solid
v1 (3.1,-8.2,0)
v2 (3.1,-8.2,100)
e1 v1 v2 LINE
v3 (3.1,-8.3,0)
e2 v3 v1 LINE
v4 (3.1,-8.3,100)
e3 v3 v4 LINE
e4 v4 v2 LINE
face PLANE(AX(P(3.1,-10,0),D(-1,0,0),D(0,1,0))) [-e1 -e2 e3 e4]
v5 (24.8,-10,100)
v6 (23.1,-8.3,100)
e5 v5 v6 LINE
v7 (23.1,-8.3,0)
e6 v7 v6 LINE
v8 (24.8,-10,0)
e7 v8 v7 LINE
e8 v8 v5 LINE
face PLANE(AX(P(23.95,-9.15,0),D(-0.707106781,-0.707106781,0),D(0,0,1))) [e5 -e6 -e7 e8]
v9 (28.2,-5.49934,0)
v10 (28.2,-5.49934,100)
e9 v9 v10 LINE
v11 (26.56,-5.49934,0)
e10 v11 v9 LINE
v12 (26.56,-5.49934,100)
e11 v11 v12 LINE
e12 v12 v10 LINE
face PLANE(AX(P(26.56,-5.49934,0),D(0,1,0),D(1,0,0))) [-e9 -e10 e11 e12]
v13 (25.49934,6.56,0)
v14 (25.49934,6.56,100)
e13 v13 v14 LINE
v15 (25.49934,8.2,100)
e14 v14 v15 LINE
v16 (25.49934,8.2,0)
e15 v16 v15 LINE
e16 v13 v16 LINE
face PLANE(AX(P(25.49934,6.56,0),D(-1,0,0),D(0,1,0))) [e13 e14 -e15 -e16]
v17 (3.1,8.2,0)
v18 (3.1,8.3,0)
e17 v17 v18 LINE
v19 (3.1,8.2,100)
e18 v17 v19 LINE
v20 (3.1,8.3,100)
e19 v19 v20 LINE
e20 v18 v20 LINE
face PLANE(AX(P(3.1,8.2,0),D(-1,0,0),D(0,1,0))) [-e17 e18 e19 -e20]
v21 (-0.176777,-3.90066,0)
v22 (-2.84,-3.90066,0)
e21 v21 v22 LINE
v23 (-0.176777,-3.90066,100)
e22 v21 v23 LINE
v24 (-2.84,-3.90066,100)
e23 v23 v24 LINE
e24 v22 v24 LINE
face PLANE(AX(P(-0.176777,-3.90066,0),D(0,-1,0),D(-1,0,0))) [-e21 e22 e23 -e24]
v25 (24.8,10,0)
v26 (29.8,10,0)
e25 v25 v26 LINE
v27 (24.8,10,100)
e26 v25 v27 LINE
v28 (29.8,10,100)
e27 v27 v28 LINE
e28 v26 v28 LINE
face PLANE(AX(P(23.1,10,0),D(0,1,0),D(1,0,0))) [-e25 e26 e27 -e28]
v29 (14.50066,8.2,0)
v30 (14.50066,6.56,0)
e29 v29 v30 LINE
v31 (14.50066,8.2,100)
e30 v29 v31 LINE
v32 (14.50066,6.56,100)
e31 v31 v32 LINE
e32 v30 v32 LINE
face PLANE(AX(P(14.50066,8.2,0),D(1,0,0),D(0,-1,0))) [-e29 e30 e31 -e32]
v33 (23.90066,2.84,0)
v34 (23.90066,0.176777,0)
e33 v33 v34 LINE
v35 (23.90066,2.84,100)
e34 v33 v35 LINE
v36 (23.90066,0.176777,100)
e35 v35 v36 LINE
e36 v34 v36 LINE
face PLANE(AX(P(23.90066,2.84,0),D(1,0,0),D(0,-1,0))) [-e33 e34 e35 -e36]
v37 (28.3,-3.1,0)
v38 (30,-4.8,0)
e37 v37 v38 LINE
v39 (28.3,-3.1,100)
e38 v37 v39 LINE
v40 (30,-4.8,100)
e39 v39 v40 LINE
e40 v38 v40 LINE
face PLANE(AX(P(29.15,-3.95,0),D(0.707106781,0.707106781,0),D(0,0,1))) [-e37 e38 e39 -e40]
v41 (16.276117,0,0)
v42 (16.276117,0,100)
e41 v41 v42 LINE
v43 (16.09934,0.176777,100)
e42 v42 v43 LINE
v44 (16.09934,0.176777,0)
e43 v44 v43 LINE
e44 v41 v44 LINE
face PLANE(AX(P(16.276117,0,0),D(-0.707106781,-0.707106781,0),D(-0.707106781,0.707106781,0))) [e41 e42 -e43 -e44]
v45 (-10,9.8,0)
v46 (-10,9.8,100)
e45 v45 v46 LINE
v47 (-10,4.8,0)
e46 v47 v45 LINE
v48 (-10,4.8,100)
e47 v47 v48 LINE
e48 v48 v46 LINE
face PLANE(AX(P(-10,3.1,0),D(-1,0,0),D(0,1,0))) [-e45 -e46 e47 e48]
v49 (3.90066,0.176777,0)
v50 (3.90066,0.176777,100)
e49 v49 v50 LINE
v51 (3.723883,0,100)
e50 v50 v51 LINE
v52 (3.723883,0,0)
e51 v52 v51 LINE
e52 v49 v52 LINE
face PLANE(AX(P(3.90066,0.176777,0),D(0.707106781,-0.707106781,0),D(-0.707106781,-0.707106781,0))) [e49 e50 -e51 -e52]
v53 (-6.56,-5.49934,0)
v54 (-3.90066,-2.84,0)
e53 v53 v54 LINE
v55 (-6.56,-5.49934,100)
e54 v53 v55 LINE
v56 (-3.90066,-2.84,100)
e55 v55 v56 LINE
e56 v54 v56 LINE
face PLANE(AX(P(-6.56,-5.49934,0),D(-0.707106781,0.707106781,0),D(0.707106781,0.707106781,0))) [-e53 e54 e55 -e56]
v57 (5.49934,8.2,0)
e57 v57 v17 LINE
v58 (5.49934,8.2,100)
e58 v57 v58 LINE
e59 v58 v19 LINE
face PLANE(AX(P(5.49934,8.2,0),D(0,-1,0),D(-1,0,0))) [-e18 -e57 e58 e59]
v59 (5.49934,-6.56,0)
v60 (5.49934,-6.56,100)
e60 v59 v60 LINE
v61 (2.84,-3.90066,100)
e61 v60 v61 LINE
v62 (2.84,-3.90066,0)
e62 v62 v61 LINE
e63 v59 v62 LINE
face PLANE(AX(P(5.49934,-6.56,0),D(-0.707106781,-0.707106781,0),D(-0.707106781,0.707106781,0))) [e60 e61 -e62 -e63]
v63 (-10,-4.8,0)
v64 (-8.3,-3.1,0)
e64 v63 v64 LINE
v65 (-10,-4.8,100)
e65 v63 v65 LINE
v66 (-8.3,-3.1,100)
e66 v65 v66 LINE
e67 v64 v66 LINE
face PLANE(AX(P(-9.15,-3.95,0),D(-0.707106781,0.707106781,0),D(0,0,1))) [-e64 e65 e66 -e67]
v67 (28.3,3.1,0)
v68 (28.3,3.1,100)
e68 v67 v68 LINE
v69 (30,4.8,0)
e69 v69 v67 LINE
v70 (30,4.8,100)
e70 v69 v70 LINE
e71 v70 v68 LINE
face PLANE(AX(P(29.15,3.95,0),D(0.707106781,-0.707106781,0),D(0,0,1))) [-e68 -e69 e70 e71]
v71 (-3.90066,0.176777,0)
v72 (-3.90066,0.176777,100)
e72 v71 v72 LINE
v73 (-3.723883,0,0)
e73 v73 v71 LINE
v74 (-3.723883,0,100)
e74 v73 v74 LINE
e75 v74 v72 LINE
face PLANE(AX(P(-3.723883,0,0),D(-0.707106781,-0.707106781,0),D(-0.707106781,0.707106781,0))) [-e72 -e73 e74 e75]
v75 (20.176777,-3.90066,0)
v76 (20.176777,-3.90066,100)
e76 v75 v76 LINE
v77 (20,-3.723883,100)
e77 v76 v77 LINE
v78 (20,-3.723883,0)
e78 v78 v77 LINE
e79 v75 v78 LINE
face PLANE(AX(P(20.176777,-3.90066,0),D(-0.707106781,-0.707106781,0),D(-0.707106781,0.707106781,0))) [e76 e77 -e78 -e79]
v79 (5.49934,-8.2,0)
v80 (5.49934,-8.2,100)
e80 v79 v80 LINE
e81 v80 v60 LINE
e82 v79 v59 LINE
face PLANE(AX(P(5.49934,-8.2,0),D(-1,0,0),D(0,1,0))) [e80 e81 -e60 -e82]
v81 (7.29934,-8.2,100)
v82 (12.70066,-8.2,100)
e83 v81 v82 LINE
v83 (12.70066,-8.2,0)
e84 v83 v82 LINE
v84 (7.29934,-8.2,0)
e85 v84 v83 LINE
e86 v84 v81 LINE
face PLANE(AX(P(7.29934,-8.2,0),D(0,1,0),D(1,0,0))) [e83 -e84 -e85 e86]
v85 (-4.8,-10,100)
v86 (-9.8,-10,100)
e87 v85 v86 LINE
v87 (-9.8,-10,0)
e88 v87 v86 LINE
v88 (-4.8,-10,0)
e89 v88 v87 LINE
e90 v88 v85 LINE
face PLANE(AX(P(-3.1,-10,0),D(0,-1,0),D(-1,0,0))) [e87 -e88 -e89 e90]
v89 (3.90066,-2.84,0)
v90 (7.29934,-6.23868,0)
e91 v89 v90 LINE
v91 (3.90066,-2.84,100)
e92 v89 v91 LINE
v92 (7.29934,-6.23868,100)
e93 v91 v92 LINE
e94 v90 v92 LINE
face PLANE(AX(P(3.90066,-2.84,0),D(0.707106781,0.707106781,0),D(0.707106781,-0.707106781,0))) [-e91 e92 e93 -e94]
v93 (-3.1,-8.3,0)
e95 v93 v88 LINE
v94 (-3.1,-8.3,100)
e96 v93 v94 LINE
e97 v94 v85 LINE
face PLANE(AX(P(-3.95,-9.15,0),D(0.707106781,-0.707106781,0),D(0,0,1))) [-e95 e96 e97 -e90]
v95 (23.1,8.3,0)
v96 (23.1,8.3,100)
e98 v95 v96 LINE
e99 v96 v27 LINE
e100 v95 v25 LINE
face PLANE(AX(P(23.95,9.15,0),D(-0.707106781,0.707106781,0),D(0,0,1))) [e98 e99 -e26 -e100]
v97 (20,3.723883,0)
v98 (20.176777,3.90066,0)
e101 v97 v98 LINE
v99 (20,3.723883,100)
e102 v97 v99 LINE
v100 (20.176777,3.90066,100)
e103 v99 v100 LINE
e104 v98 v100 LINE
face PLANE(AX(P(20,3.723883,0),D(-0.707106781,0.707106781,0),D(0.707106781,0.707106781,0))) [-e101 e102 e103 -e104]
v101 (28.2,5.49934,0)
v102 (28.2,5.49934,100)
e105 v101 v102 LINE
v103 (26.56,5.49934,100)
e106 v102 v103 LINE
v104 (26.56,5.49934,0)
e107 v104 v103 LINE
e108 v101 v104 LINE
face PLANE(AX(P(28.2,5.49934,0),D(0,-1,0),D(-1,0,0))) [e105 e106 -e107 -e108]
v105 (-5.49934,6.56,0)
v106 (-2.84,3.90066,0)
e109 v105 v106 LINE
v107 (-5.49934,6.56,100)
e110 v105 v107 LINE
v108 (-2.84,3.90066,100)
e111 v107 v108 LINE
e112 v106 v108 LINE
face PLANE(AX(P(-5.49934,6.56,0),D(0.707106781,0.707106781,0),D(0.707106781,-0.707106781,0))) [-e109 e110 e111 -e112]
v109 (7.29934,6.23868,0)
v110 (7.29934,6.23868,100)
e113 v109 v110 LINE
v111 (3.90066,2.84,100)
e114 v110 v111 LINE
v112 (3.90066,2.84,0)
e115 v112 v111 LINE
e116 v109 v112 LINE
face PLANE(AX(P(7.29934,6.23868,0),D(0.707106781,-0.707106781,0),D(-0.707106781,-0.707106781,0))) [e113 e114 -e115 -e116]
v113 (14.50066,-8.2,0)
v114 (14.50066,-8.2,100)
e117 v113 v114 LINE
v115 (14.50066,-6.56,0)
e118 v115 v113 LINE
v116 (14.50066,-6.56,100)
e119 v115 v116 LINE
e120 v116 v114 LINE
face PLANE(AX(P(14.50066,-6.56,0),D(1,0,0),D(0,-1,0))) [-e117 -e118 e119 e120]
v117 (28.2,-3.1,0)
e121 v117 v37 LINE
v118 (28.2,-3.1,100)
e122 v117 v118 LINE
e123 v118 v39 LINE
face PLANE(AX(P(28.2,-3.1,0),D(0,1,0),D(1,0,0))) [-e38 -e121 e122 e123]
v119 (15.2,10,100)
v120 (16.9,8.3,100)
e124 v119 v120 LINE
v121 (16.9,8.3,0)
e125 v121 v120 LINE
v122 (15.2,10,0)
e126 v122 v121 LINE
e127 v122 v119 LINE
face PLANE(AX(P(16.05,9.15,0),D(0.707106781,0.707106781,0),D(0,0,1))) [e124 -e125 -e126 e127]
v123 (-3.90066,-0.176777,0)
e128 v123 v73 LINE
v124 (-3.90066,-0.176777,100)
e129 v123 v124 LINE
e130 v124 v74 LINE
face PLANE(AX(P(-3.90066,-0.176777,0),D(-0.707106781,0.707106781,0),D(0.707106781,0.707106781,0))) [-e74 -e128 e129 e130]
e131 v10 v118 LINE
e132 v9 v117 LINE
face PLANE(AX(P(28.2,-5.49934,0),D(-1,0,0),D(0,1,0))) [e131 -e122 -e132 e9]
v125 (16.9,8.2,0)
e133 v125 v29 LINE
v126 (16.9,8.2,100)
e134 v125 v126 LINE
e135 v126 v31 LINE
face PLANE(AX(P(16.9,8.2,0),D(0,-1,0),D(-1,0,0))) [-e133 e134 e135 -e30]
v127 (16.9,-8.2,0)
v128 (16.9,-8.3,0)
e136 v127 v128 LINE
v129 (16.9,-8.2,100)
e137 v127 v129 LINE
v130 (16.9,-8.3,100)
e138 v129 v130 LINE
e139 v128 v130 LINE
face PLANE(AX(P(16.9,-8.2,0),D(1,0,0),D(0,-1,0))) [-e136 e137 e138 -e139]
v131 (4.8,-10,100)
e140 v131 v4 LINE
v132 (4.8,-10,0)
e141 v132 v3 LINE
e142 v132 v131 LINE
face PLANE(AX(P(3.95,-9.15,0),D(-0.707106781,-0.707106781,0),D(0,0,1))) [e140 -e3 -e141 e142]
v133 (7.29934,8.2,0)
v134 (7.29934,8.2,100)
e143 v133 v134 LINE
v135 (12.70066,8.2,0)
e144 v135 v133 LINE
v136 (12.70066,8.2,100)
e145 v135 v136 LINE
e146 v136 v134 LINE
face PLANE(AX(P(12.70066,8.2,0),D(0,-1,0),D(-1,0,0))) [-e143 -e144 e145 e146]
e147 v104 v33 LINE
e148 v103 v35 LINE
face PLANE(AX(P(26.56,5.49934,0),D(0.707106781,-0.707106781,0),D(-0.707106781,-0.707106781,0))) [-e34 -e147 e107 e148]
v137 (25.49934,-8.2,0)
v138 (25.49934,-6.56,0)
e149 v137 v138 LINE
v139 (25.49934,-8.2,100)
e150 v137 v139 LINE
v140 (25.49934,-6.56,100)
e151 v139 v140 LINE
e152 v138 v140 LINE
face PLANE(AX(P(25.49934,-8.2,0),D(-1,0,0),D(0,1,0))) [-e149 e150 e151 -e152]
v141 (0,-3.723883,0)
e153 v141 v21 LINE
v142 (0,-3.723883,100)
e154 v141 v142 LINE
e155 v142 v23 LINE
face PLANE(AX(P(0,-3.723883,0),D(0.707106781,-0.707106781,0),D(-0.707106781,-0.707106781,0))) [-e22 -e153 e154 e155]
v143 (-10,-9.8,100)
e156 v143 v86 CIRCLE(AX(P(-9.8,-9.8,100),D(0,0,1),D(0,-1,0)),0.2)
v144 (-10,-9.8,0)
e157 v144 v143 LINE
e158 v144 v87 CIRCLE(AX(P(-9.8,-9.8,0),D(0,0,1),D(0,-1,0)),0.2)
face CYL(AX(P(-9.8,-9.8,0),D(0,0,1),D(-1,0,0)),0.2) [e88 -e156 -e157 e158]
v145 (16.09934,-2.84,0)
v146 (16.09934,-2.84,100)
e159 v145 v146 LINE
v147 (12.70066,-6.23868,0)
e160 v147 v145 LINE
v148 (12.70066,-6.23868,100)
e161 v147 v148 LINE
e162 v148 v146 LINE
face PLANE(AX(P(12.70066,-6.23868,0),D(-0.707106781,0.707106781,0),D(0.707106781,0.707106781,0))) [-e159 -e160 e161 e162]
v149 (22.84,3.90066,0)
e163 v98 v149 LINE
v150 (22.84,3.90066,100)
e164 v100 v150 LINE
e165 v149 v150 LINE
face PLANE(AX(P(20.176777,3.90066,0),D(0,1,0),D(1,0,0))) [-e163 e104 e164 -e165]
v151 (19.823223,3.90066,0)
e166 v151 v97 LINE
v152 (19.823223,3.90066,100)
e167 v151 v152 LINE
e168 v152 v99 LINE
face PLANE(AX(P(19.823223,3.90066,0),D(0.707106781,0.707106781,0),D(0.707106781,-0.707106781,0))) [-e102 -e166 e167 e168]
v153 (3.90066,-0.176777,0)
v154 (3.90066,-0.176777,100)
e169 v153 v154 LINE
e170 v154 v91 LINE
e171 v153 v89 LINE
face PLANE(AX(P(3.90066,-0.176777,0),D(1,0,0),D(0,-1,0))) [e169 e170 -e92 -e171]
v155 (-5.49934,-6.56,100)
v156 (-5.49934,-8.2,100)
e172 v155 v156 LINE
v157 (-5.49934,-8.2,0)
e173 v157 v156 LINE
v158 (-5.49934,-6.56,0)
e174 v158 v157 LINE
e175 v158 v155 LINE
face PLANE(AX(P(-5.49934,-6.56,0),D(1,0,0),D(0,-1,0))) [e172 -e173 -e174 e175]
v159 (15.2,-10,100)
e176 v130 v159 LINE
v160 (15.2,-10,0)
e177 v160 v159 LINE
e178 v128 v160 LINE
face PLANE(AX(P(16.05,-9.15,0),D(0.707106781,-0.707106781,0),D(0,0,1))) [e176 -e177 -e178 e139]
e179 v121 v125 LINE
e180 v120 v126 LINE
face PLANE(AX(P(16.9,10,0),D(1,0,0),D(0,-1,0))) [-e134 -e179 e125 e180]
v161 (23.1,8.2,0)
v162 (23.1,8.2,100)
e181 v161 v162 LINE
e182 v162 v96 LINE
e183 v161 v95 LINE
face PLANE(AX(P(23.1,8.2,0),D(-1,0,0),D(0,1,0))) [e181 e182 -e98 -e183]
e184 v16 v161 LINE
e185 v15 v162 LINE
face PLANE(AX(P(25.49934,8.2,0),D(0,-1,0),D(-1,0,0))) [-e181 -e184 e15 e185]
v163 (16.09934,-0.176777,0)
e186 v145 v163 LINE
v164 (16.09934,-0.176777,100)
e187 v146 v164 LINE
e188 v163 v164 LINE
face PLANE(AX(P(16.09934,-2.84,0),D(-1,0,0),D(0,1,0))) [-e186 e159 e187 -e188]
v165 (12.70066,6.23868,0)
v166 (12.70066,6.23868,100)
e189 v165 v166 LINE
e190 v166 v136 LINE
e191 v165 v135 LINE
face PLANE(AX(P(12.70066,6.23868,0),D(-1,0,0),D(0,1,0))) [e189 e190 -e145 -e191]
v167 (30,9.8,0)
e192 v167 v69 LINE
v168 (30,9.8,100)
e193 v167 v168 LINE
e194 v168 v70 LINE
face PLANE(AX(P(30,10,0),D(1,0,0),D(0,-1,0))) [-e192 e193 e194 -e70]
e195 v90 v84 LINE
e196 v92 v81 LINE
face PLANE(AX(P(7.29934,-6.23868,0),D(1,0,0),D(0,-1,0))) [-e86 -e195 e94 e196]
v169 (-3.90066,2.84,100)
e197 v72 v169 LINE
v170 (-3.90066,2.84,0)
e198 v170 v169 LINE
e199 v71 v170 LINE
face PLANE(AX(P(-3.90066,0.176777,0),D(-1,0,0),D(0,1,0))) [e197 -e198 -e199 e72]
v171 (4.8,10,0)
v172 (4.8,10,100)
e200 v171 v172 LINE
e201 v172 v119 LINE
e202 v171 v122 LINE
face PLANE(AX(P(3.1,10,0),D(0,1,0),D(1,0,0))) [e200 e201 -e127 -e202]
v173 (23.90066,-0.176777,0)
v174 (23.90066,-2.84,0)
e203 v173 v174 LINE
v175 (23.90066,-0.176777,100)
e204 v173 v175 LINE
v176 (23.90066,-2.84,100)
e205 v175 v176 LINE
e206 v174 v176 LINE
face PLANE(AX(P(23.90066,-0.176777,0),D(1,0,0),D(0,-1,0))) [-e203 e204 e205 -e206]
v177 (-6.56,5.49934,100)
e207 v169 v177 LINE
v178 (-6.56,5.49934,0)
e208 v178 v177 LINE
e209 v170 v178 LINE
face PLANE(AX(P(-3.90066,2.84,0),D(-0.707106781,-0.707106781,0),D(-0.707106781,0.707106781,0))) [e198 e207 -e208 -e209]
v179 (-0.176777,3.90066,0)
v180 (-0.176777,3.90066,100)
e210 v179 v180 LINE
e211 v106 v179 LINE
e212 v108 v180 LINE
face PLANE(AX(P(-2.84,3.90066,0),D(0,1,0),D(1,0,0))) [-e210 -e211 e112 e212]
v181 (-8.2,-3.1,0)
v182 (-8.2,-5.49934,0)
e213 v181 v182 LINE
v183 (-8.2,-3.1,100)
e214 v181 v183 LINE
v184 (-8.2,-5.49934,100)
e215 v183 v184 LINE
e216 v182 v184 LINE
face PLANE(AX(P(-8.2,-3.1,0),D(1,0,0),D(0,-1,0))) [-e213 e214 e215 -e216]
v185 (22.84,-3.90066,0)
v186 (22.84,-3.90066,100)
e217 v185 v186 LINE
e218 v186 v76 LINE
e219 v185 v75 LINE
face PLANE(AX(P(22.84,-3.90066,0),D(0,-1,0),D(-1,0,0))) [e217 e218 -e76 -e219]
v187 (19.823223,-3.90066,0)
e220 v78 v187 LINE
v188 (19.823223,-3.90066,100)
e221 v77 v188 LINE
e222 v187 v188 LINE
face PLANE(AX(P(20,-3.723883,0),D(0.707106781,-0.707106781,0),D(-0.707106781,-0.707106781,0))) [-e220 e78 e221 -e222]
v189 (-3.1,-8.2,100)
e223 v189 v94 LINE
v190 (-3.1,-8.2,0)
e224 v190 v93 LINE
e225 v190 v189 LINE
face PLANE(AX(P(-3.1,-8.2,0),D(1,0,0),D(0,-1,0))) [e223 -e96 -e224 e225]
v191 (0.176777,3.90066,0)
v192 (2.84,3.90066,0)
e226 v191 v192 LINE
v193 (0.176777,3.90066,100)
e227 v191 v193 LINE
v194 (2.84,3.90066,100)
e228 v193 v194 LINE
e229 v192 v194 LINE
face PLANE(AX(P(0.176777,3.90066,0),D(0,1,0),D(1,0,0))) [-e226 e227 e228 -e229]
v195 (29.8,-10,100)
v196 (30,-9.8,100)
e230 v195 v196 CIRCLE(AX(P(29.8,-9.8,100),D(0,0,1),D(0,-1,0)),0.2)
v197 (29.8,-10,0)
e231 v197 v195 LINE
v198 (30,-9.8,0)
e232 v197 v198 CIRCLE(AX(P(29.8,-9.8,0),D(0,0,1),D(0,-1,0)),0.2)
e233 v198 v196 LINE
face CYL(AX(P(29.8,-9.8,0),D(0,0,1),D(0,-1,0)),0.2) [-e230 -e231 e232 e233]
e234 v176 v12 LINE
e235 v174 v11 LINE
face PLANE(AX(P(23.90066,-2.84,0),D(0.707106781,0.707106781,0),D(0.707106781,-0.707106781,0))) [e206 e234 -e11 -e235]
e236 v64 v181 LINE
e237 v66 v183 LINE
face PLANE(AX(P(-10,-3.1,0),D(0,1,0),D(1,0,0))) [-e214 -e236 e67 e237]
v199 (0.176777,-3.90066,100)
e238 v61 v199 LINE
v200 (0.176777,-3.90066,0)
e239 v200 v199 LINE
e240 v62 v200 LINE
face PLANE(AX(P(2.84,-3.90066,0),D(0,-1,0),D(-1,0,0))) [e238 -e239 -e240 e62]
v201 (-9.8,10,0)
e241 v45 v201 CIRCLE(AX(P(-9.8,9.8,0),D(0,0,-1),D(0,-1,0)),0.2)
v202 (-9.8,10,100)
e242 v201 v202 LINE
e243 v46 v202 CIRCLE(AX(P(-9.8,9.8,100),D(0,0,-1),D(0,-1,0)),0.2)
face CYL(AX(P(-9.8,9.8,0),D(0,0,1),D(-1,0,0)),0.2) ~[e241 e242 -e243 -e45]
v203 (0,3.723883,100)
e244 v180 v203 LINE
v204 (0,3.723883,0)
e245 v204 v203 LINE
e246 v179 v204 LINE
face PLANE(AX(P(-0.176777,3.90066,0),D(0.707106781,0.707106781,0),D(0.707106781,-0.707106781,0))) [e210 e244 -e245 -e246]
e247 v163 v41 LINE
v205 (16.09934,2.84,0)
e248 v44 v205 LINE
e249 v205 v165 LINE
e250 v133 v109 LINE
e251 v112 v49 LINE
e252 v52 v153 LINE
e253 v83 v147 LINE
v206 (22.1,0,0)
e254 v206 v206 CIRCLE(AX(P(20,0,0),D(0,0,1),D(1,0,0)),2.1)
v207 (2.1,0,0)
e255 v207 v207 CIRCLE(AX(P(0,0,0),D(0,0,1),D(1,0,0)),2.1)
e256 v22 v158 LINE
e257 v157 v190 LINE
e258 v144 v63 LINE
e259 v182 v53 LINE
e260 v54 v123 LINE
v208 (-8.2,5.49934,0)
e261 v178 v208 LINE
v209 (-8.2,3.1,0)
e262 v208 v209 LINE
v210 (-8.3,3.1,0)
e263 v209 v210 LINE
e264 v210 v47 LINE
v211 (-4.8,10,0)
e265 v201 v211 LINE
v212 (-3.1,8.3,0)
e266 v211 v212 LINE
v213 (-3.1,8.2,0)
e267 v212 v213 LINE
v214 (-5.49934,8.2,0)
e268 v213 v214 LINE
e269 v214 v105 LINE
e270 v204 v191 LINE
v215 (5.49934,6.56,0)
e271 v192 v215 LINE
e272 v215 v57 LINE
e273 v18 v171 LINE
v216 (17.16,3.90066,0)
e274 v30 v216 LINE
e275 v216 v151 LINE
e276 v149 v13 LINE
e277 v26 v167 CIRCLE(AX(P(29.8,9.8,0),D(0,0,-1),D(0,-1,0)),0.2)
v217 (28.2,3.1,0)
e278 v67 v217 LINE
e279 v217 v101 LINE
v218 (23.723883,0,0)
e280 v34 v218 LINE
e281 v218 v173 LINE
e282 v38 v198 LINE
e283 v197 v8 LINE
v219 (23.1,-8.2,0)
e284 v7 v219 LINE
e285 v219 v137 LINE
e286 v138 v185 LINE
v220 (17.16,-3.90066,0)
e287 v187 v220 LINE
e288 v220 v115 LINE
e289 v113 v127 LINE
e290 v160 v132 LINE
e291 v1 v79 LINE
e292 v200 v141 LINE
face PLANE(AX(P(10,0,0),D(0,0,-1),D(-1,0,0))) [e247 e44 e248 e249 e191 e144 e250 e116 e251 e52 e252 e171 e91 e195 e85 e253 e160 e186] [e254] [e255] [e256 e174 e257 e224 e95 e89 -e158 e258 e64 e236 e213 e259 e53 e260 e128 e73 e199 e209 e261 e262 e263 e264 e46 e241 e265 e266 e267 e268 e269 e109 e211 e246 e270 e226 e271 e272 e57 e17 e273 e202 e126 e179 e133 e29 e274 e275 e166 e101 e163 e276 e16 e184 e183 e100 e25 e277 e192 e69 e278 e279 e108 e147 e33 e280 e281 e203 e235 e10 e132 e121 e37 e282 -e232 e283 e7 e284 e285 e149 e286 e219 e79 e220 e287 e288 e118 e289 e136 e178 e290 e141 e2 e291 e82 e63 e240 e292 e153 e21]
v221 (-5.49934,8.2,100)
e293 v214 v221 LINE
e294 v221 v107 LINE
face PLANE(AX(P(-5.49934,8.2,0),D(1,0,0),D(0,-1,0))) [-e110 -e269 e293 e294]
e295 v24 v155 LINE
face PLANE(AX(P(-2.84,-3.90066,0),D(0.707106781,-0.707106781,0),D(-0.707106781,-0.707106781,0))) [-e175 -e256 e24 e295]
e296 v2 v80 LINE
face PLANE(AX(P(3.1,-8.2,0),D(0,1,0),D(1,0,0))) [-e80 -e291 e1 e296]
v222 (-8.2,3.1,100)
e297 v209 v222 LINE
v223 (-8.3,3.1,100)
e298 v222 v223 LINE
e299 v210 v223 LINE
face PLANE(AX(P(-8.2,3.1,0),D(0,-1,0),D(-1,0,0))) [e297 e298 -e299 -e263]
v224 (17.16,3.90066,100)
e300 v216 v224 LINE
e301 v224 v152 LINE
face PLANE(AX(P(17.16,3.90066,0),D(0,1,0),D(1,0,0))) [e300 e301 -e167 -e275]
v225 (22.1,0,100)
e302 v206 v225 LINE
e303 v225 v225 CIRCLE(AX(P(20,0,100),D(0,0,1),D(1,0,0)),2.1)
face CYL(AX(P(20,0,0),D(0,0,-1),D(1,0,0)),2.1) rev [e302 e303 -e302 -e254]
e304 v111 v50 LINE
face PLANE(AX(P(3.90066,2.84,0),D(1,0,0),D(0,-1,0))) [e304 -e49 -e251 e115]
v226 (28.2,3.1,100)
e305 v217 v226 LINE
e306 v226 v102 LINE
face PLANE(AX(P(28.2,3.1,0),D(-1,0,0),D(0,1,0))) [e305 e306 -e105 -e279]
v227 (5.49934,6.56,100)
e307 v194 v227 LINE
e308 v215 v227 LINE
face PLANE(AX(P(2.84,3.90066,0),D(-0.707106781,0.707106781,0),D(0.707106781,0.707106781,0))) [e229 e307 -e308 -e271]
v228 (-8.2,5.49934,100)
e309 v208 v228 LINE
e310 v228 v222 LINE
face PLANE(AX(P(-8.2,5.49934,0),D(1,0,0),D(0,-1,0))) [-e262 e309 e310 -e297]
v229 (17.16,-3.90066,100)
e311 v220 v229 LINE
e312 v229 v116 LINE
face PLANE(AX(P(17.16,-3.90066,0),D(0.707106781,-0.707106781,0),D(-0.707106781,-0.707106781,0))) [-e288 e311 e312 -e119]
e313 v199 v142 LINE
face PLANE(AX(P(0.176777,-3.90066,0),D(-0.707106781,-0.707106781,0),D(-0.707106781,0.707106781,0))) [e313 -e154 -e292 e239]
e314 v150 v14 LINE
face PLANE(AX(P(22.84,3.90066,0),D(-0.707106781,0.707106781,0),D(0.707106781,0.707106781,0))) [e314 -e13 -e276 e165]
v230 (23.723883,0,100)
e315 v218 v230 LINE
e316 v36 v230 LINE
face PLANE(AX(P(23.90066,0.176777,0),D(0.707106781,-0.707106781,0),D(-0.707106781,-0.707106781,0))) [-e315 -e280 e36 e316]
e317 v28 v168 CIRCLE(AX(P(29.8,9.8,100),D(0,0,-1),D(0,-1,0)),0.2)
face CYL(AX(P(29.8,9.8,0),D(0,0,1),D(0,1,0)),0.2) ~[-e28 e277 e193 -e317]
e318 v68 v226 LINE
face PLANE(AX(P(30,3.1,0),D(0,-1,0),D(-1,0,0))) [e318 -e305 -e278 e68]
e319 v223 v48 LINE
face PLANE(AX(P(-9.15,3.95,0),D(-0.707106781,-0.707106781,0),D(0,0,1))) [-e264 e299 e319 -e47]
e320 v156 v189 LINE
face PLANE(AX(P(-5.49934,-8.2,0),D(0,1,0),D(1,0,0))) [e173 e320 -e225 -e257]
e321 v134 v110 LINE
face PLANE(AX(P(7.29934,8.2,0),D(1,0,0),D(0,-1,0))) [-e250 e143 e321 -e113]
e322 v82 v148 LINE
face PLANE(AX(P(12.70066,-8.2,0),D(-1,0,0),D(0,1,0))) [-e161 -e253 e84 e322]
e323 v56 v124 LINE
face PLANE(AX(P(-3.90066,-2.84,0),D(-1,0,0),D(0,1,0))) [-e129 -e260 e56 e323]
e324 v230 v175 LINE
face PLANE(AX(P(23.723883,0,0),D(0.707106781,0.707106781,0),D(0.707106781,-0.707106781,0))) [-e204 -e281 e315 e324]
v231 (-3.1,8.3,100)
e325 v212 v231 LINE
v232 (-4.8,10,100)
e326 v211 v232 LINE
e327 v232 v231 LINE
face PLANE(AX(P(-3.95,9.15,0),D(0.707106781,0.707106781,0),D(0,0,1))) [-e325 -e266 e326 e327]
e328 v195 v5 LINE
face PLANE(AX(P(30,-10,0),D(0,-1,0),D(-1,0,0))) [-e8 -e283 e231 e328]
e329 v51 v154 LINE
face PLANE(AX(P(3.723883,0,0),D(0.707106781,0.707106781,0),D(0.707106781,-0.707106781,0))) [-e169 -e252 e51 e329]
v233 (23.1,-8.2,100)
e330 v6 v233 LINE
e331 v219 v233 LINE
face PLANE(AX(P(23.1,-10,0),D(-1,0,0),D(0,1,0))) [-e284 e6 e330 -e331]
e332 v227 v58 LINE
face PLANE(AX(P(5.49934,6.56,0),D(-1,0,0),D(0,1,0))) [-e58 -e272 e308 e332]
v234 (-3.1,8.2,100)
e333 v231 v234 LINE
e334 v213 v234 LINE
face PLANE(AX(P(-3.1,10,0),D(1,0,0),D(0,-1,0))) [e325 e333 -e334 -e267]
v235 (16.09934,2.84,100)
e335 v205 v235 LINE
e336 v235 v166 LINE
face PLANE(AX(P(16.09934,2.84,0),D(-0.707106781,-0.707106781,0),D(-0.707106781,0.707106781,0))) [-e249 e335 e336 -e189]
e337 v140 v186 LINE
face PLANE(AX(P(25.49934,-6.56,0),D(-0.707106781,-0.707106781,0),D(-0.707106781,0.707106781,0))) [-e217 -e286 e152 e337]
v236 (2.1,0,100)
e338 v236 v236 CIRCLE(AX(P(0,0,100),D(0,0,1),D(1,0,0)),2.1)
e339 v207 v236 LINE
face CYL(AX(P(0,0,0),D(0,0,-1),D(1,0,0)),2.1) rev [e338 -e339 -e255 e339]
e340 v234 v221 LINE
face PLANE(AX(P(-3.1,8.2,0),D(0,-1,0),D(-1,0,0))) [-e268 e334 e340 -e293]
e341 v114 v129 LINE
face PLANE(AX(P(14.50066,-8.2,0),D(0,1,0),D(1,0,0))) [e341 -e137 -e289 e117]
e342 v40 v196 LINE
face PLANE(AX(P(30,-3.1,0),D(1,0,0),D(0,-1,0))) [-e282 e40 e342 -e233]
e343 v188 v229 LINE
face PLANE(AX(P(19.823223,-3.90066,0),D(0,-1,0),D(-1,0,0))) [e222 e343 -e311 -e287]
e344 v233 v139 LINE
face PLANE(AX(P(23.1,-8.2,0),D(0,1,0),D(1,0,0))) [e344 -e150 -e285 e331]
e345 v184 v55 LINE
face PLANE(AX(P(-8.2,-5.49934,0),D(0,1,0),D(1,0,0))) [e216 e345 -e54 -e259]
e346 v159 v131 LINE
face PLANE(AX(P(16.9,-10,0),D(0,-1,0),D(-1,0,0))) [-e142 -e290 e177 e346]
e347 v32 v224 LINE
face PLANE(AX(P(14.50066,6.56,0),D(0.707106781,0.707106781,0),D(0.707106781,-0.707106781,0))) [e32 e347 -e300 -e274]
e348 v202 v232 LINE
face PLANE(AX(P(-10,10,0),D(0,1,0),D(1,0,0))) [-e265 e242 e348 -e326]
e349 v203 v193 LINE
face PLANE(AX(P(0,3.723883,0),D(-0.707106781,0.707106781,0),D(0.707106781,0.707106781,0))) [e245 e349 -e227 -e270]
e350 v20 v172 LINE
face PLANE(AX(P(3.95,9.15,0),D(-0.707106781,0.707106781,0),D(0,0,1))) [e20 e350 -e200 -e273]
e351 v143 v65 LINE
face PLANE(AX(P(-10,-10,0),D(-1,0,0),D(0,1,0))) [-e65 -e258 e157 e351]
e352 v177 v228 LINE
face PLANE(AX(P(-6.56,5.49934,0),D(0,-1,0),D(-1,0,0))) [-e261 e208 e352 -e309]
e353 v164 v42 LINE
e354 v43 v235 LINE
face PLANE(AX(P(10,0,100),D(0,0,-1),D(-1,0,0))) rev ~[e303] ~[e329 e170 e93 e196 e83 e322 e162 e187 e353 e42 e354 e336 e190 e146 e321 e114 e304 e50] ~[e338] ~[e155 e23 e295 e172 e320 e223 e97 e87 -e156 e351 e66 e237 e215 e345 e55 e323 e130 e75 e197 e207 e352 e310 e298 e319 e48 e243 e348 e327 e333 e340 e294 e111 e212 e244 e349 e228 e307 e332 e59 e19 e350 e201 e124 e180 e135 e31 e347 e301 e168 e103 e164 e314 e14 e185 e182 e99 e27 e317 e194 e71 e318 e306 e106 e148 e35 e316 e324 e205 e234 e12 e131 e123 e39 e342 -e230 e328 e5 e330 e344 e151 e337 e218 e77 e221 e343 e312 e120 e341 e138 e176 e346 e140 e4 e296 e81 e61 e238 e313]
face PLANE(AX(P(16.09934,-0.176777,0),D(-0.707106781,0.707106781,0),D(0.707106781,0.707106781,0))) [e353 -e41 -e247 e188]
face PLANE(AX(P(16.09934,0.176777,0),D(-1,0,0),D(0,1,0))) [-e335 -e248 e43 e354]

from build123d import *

# Parameters (mm, degrees)
SKETCH_R         = 2.1
PAD_DEPTH        = 100
CHAMFER_1_ANGLE  = 45
CHAMFER_1_SIZE   = 1.7
CHAMFER_2_ANGLE  = 45
CHAMFER_2_SIZE   = 1.7
CHAMFER_3_ANGLE  = 45
CHAMFER_3_SIZE   = 1.7
CHAMFER_4_ANGLE  = 45
CHAMFER_4_SIZE   = 1.7
CHAMFER_5_ANGLE  = 45
CHAMFER_5_SIZE   = 1.7
CHAMFER_6_ANGLE  = 45
CHAMFER_6_SIZE   = 1.7
CHAMFER_7_ANGLE  = 45
CHAMFER_7_SIZE   = 1.7
CHAMFER_8_ANGLE  = 45
CHAMFER_8_SIZE   = 1.7
CHAMFER_9_ANGLE  = 45
CHAMFER_9_SIZE   = 1.7
CHAMFER_10_ANGLE = 45
CHAMFER_10_SIZE  = 1.7
CHAMFER_11_ANGLE = 45
CHAMFER_11_SIZE  = 1.7
CHAMFER_12_ANGLE = 45
CHAMFER_12_SIZE  = 1.7
FILLET_R         = 0.2


with BuildPart() as part:
    # Sketch → Pad (new body)
    with BuildSketch(Plane.XY):
        Polygon((0, 3.723883), (0.176777, 3.90066), (2.84, 3.90066), (5.49934, 6.56), (5.49934, 8.2), (3.1, 8.2), (3.1, 10), (16.9, 10), (16.9, 8.2), (14.50066, 8.2), (14.50066, 6.56), (17.16, 3.90066), (19.823223, 3.90066), (20, 3.723883), (20.176777, 3.90066), (22.84, 3.90066), (25.49934, 6.56), (25.49934, 8.2), (23.1, 8.2), (23.1, 10), (30, 10), (30, 3.1), (28.2, 3.1), (28.2, 5.49934), (26.56, 5.49934), (23.90066, 2.84), (23.90066, 0.176777), (23.723883, 0), (23.90066, -0.176777), (23.90066, -2.84), (26.56, -5.49934), (28.2, -5.49934), (28.2, -3.1), (30, -3.1), (30, -10), (23.1, -10), (23.1, -8.2), (25.49934, -8.2), (25.49934, -6.56), (22.84, -3.90066), (20.176777, -3.90066), (20, -3.723883), (19.823223, -3.90066), (17.16, -3.90066), (14.50066, -6.56), (14.50066, -8.2), (16.9, -8.2), (16.9, -10), (3.1, -10), (3.1, -8.2), (5.49934, -8.2), (5.49934, -6.56), (2.84, -3.90066), (0.176777, -3.90066), (0, -3.723883), (-0.176777, -3.90066), (-2.84, -3.90066), (-5.49934, -6.56), (-5.49934, -8.2), (-3.1, -8.2), (-3.1, -10), (-10, -10), (-10, -3.1), (-8.2, -3.1), (-8.2, -5.49934), (-6.56, -5.49934), (-3.90066, -2.84), (-3.90066, -0.176777), (-3.723883, 0), (-3.90066, 0.176777), (-3.90066, 2.84), (-6.56, 5.49934), (-8.2, 5.49934), (-8.2, 3.1), (-10, 3.1), (-10, 10), (-3.1, 10), (-3.1, 8.2), (-5.49934, 8.2), (-5.49934, 6.56), (-2.84, 3.90066), (-0.176777, 3.90066), align=None)
        Circle(SKETCH_R, mode=Mode.SUBTRACT)
        with Locations((20, 0)):
            Circle(SKETCH_R, mode=Mode.SUBTRACT)
        Polygon((7.29934, 6.23868), (3.90066, 2.84), (3.90066, 0.176777), (3.723883, 0), (3.90066, -0.176777), (3.90066, -2.84), (7.29934, -6.23868), (7.29934, -8.2), (12.70066, -8.2), (12.70066, -6.23868), (16.09934, -2.84), (16.09934, -0.176777), (16.276117, 0), (16.09934, 0.176777), (16.09934, 2.84), (12.70066, 6.23868), (12.70066, 8.2), (7.29934, 8.2), align=None, mode=Mode.SUBTRACT)
    extrude(amount=PAD_DEPTH)

    # Chamfer 1
    chamfer_1_edges = [part.edges().sort_by_distance(p)[0] for p in [
        (3.1, -10, 50),
    ]]
    chamfer_1_side = part.faces().sort_by_distance((10, -10, 50))[0]
    chamfer(chamfer_1_edges, length=CHAMFER_1_SIZE, angle=CHAMFER_1_ANGLE, reference=chamfer_1_side)

    # Chamfer 2
    chamfer_2_edges = [part.edges().sort_by_distance(p)[0] for p in [
        (16.9, -10, 50),
    ]]
    chamfer_2_side = part.faces().sort_by_distance((16.9, -9.1, 50))[0]
    chamfer(chamfer_2_edges, length=CHAMFER_2_SIZE, angle=CHAMFER_2_ANGLE, reference=chamfer_2_side)

    # Chamfer 3
    chamfer_3_edges = [part.edges().sort_by_distance(p)[0] for p in [
        (23.1, -10, 50),
    ]]
    chamfer_3_side = part.faces().sort_by_distance((26.55, -10, 50))[0]
    chamfer(chamfer_3_edges, length=CHAMFER_3_SIZE, angle=CHAMFER_3_ANGLE, reference=chamfer_3_side)

    # Chamfer 4
    chamfer_4_edges = [part.edges().sort_by_distance(p)[0] for p in [
        (-3.1, -10, 50),
    ]]
    chamfer_4_side = part.faces().sort_by_distance((-3.1, -9.1, 50))[0]
    chamfer(chamfer_4_edges, length=CHAMFER_4_SIZE, angle=CHAMFER_4_ANGLE, reference=chamfer_4_side)

    # Chamfer 5
    chamfer_5_edges = [part.edges().sort_by_distance(p)[0] for p in [
        (30, -3.1, 50),
    ]]
    chamfer_5_side = part.faces().sort_by_distance((29.1, -3.1, 50))[0]
    chamfer(chamfer_5_edges, length=CHAMFER_5_SIZE, angle=CHAMFER_5_ANGLE, reference=chamfer_5_side)

    # Chamfer 6
    chamfer_6_edges = [part.edges().sort_by_distance(p)[0] for p in [
        (30, 3.1, 50),
    ]]
    chamfer_6_side = part.faces().sort_by_distance((30, 6.55, 50))[0]
    chamfer(chamfer_6_edges, length=CHAMFER_6_SIZE, angle=CHAMFER_6_ANGLE, reference=chamfer_6_side)

    # Chamfer 7
    chamfer_7_edges = [part.edges().sort_by_distance(p)[0] for p in [
        (23.1, 10, 50),
    ]]
    chamfer_7_side = part.faces().sort_by_distance((23.1, 9.1, 50))[0]
    chamfer(chamfer_7_edges, length=CHAMFER_7_SIZE, angle=CHAMFER_7_ANGLE, reference=chamfer_7_side)

    # Chamfer 8
    chamfer_8_edges = [part.edges().sort_by_distance(p)[0] for p in [
        (16.9, 10, 50),
    ]]
    chamfer_8_side = part.faces().sort_by_distance((10, 10, 50))[0]
    chamfer(chamfer_8_edges, length=CHAMFER_8_SIZE, angle=CHAMFER_8_ANGLE, reference=chamfer_8_side)

    # Chamfer 9
    chamfer_9_edges = [part.edges().sort_by_distance(p)[0] for p in [
        (3.1, 10, 50),
    ]]
    chamfer_9_side = part.faces().sort_by_distance((3.1, 9.1, 50))[0]
    chamfer(chamfer_9_edges, length=CHAMFER_9_SIZE, angle=CHAMFER_9_ANGLE, reference=chamfer_9_side)

    # Chamfer 10
    chamfer_10_edges = [part.edges().sort_by_distance(p)[0] for p in [
        (-3.1, 10, 50),
    ]]
    chamfer_10_side = part.faces().sort_by_distance((-6.55, 10, 50))[0]
    chamfer(chamfer_10_edges, length=CHAMFER_10_SIZE, angle=CHAMFER_10_ANGLE, reference=chamfer_10_side)

    # Chamfer 11
    chamfer_11_edges = [part.edges().sort_by_distance(p)[0] for p in [
        (-10, -3.1, 50),
    ]]
    chamfer_11_side = part.faces().sort_by_distance((-10, -6.55, 50))[0]
    chamfer(chamfer_11_edges, length=CHAMFER_11_SIZE, angle=CHAMFER_11_ANGLE, reference=chamfer_11_side)

    # Chamfer 12
    chamfer_12_edges = [part.edges().sort_by_distance(p)[0] for p in [
        (-10, 3.1, 50),
    ]]
    chamfer_12_side = part.faces().sort_by_distance((-9.1, 3.1, 50))[0]
    chamfer(chamfer_12_edges, length=CHAMFER_12_SIZE, angle=CHAMFER_12_ANGLE, reference=chamfer_12_side)

    # Fillet
    fillet_edges = [part.edges().sort_by_distance(p)[0] for p in [
        (-10, -10, 50),
        (-10, 10, 50),
        (30, 10, 50),
        (30, -10, 50),
    ]]
    fillet(fillet_edges, radius=FILLET_R)


solid = part.part
